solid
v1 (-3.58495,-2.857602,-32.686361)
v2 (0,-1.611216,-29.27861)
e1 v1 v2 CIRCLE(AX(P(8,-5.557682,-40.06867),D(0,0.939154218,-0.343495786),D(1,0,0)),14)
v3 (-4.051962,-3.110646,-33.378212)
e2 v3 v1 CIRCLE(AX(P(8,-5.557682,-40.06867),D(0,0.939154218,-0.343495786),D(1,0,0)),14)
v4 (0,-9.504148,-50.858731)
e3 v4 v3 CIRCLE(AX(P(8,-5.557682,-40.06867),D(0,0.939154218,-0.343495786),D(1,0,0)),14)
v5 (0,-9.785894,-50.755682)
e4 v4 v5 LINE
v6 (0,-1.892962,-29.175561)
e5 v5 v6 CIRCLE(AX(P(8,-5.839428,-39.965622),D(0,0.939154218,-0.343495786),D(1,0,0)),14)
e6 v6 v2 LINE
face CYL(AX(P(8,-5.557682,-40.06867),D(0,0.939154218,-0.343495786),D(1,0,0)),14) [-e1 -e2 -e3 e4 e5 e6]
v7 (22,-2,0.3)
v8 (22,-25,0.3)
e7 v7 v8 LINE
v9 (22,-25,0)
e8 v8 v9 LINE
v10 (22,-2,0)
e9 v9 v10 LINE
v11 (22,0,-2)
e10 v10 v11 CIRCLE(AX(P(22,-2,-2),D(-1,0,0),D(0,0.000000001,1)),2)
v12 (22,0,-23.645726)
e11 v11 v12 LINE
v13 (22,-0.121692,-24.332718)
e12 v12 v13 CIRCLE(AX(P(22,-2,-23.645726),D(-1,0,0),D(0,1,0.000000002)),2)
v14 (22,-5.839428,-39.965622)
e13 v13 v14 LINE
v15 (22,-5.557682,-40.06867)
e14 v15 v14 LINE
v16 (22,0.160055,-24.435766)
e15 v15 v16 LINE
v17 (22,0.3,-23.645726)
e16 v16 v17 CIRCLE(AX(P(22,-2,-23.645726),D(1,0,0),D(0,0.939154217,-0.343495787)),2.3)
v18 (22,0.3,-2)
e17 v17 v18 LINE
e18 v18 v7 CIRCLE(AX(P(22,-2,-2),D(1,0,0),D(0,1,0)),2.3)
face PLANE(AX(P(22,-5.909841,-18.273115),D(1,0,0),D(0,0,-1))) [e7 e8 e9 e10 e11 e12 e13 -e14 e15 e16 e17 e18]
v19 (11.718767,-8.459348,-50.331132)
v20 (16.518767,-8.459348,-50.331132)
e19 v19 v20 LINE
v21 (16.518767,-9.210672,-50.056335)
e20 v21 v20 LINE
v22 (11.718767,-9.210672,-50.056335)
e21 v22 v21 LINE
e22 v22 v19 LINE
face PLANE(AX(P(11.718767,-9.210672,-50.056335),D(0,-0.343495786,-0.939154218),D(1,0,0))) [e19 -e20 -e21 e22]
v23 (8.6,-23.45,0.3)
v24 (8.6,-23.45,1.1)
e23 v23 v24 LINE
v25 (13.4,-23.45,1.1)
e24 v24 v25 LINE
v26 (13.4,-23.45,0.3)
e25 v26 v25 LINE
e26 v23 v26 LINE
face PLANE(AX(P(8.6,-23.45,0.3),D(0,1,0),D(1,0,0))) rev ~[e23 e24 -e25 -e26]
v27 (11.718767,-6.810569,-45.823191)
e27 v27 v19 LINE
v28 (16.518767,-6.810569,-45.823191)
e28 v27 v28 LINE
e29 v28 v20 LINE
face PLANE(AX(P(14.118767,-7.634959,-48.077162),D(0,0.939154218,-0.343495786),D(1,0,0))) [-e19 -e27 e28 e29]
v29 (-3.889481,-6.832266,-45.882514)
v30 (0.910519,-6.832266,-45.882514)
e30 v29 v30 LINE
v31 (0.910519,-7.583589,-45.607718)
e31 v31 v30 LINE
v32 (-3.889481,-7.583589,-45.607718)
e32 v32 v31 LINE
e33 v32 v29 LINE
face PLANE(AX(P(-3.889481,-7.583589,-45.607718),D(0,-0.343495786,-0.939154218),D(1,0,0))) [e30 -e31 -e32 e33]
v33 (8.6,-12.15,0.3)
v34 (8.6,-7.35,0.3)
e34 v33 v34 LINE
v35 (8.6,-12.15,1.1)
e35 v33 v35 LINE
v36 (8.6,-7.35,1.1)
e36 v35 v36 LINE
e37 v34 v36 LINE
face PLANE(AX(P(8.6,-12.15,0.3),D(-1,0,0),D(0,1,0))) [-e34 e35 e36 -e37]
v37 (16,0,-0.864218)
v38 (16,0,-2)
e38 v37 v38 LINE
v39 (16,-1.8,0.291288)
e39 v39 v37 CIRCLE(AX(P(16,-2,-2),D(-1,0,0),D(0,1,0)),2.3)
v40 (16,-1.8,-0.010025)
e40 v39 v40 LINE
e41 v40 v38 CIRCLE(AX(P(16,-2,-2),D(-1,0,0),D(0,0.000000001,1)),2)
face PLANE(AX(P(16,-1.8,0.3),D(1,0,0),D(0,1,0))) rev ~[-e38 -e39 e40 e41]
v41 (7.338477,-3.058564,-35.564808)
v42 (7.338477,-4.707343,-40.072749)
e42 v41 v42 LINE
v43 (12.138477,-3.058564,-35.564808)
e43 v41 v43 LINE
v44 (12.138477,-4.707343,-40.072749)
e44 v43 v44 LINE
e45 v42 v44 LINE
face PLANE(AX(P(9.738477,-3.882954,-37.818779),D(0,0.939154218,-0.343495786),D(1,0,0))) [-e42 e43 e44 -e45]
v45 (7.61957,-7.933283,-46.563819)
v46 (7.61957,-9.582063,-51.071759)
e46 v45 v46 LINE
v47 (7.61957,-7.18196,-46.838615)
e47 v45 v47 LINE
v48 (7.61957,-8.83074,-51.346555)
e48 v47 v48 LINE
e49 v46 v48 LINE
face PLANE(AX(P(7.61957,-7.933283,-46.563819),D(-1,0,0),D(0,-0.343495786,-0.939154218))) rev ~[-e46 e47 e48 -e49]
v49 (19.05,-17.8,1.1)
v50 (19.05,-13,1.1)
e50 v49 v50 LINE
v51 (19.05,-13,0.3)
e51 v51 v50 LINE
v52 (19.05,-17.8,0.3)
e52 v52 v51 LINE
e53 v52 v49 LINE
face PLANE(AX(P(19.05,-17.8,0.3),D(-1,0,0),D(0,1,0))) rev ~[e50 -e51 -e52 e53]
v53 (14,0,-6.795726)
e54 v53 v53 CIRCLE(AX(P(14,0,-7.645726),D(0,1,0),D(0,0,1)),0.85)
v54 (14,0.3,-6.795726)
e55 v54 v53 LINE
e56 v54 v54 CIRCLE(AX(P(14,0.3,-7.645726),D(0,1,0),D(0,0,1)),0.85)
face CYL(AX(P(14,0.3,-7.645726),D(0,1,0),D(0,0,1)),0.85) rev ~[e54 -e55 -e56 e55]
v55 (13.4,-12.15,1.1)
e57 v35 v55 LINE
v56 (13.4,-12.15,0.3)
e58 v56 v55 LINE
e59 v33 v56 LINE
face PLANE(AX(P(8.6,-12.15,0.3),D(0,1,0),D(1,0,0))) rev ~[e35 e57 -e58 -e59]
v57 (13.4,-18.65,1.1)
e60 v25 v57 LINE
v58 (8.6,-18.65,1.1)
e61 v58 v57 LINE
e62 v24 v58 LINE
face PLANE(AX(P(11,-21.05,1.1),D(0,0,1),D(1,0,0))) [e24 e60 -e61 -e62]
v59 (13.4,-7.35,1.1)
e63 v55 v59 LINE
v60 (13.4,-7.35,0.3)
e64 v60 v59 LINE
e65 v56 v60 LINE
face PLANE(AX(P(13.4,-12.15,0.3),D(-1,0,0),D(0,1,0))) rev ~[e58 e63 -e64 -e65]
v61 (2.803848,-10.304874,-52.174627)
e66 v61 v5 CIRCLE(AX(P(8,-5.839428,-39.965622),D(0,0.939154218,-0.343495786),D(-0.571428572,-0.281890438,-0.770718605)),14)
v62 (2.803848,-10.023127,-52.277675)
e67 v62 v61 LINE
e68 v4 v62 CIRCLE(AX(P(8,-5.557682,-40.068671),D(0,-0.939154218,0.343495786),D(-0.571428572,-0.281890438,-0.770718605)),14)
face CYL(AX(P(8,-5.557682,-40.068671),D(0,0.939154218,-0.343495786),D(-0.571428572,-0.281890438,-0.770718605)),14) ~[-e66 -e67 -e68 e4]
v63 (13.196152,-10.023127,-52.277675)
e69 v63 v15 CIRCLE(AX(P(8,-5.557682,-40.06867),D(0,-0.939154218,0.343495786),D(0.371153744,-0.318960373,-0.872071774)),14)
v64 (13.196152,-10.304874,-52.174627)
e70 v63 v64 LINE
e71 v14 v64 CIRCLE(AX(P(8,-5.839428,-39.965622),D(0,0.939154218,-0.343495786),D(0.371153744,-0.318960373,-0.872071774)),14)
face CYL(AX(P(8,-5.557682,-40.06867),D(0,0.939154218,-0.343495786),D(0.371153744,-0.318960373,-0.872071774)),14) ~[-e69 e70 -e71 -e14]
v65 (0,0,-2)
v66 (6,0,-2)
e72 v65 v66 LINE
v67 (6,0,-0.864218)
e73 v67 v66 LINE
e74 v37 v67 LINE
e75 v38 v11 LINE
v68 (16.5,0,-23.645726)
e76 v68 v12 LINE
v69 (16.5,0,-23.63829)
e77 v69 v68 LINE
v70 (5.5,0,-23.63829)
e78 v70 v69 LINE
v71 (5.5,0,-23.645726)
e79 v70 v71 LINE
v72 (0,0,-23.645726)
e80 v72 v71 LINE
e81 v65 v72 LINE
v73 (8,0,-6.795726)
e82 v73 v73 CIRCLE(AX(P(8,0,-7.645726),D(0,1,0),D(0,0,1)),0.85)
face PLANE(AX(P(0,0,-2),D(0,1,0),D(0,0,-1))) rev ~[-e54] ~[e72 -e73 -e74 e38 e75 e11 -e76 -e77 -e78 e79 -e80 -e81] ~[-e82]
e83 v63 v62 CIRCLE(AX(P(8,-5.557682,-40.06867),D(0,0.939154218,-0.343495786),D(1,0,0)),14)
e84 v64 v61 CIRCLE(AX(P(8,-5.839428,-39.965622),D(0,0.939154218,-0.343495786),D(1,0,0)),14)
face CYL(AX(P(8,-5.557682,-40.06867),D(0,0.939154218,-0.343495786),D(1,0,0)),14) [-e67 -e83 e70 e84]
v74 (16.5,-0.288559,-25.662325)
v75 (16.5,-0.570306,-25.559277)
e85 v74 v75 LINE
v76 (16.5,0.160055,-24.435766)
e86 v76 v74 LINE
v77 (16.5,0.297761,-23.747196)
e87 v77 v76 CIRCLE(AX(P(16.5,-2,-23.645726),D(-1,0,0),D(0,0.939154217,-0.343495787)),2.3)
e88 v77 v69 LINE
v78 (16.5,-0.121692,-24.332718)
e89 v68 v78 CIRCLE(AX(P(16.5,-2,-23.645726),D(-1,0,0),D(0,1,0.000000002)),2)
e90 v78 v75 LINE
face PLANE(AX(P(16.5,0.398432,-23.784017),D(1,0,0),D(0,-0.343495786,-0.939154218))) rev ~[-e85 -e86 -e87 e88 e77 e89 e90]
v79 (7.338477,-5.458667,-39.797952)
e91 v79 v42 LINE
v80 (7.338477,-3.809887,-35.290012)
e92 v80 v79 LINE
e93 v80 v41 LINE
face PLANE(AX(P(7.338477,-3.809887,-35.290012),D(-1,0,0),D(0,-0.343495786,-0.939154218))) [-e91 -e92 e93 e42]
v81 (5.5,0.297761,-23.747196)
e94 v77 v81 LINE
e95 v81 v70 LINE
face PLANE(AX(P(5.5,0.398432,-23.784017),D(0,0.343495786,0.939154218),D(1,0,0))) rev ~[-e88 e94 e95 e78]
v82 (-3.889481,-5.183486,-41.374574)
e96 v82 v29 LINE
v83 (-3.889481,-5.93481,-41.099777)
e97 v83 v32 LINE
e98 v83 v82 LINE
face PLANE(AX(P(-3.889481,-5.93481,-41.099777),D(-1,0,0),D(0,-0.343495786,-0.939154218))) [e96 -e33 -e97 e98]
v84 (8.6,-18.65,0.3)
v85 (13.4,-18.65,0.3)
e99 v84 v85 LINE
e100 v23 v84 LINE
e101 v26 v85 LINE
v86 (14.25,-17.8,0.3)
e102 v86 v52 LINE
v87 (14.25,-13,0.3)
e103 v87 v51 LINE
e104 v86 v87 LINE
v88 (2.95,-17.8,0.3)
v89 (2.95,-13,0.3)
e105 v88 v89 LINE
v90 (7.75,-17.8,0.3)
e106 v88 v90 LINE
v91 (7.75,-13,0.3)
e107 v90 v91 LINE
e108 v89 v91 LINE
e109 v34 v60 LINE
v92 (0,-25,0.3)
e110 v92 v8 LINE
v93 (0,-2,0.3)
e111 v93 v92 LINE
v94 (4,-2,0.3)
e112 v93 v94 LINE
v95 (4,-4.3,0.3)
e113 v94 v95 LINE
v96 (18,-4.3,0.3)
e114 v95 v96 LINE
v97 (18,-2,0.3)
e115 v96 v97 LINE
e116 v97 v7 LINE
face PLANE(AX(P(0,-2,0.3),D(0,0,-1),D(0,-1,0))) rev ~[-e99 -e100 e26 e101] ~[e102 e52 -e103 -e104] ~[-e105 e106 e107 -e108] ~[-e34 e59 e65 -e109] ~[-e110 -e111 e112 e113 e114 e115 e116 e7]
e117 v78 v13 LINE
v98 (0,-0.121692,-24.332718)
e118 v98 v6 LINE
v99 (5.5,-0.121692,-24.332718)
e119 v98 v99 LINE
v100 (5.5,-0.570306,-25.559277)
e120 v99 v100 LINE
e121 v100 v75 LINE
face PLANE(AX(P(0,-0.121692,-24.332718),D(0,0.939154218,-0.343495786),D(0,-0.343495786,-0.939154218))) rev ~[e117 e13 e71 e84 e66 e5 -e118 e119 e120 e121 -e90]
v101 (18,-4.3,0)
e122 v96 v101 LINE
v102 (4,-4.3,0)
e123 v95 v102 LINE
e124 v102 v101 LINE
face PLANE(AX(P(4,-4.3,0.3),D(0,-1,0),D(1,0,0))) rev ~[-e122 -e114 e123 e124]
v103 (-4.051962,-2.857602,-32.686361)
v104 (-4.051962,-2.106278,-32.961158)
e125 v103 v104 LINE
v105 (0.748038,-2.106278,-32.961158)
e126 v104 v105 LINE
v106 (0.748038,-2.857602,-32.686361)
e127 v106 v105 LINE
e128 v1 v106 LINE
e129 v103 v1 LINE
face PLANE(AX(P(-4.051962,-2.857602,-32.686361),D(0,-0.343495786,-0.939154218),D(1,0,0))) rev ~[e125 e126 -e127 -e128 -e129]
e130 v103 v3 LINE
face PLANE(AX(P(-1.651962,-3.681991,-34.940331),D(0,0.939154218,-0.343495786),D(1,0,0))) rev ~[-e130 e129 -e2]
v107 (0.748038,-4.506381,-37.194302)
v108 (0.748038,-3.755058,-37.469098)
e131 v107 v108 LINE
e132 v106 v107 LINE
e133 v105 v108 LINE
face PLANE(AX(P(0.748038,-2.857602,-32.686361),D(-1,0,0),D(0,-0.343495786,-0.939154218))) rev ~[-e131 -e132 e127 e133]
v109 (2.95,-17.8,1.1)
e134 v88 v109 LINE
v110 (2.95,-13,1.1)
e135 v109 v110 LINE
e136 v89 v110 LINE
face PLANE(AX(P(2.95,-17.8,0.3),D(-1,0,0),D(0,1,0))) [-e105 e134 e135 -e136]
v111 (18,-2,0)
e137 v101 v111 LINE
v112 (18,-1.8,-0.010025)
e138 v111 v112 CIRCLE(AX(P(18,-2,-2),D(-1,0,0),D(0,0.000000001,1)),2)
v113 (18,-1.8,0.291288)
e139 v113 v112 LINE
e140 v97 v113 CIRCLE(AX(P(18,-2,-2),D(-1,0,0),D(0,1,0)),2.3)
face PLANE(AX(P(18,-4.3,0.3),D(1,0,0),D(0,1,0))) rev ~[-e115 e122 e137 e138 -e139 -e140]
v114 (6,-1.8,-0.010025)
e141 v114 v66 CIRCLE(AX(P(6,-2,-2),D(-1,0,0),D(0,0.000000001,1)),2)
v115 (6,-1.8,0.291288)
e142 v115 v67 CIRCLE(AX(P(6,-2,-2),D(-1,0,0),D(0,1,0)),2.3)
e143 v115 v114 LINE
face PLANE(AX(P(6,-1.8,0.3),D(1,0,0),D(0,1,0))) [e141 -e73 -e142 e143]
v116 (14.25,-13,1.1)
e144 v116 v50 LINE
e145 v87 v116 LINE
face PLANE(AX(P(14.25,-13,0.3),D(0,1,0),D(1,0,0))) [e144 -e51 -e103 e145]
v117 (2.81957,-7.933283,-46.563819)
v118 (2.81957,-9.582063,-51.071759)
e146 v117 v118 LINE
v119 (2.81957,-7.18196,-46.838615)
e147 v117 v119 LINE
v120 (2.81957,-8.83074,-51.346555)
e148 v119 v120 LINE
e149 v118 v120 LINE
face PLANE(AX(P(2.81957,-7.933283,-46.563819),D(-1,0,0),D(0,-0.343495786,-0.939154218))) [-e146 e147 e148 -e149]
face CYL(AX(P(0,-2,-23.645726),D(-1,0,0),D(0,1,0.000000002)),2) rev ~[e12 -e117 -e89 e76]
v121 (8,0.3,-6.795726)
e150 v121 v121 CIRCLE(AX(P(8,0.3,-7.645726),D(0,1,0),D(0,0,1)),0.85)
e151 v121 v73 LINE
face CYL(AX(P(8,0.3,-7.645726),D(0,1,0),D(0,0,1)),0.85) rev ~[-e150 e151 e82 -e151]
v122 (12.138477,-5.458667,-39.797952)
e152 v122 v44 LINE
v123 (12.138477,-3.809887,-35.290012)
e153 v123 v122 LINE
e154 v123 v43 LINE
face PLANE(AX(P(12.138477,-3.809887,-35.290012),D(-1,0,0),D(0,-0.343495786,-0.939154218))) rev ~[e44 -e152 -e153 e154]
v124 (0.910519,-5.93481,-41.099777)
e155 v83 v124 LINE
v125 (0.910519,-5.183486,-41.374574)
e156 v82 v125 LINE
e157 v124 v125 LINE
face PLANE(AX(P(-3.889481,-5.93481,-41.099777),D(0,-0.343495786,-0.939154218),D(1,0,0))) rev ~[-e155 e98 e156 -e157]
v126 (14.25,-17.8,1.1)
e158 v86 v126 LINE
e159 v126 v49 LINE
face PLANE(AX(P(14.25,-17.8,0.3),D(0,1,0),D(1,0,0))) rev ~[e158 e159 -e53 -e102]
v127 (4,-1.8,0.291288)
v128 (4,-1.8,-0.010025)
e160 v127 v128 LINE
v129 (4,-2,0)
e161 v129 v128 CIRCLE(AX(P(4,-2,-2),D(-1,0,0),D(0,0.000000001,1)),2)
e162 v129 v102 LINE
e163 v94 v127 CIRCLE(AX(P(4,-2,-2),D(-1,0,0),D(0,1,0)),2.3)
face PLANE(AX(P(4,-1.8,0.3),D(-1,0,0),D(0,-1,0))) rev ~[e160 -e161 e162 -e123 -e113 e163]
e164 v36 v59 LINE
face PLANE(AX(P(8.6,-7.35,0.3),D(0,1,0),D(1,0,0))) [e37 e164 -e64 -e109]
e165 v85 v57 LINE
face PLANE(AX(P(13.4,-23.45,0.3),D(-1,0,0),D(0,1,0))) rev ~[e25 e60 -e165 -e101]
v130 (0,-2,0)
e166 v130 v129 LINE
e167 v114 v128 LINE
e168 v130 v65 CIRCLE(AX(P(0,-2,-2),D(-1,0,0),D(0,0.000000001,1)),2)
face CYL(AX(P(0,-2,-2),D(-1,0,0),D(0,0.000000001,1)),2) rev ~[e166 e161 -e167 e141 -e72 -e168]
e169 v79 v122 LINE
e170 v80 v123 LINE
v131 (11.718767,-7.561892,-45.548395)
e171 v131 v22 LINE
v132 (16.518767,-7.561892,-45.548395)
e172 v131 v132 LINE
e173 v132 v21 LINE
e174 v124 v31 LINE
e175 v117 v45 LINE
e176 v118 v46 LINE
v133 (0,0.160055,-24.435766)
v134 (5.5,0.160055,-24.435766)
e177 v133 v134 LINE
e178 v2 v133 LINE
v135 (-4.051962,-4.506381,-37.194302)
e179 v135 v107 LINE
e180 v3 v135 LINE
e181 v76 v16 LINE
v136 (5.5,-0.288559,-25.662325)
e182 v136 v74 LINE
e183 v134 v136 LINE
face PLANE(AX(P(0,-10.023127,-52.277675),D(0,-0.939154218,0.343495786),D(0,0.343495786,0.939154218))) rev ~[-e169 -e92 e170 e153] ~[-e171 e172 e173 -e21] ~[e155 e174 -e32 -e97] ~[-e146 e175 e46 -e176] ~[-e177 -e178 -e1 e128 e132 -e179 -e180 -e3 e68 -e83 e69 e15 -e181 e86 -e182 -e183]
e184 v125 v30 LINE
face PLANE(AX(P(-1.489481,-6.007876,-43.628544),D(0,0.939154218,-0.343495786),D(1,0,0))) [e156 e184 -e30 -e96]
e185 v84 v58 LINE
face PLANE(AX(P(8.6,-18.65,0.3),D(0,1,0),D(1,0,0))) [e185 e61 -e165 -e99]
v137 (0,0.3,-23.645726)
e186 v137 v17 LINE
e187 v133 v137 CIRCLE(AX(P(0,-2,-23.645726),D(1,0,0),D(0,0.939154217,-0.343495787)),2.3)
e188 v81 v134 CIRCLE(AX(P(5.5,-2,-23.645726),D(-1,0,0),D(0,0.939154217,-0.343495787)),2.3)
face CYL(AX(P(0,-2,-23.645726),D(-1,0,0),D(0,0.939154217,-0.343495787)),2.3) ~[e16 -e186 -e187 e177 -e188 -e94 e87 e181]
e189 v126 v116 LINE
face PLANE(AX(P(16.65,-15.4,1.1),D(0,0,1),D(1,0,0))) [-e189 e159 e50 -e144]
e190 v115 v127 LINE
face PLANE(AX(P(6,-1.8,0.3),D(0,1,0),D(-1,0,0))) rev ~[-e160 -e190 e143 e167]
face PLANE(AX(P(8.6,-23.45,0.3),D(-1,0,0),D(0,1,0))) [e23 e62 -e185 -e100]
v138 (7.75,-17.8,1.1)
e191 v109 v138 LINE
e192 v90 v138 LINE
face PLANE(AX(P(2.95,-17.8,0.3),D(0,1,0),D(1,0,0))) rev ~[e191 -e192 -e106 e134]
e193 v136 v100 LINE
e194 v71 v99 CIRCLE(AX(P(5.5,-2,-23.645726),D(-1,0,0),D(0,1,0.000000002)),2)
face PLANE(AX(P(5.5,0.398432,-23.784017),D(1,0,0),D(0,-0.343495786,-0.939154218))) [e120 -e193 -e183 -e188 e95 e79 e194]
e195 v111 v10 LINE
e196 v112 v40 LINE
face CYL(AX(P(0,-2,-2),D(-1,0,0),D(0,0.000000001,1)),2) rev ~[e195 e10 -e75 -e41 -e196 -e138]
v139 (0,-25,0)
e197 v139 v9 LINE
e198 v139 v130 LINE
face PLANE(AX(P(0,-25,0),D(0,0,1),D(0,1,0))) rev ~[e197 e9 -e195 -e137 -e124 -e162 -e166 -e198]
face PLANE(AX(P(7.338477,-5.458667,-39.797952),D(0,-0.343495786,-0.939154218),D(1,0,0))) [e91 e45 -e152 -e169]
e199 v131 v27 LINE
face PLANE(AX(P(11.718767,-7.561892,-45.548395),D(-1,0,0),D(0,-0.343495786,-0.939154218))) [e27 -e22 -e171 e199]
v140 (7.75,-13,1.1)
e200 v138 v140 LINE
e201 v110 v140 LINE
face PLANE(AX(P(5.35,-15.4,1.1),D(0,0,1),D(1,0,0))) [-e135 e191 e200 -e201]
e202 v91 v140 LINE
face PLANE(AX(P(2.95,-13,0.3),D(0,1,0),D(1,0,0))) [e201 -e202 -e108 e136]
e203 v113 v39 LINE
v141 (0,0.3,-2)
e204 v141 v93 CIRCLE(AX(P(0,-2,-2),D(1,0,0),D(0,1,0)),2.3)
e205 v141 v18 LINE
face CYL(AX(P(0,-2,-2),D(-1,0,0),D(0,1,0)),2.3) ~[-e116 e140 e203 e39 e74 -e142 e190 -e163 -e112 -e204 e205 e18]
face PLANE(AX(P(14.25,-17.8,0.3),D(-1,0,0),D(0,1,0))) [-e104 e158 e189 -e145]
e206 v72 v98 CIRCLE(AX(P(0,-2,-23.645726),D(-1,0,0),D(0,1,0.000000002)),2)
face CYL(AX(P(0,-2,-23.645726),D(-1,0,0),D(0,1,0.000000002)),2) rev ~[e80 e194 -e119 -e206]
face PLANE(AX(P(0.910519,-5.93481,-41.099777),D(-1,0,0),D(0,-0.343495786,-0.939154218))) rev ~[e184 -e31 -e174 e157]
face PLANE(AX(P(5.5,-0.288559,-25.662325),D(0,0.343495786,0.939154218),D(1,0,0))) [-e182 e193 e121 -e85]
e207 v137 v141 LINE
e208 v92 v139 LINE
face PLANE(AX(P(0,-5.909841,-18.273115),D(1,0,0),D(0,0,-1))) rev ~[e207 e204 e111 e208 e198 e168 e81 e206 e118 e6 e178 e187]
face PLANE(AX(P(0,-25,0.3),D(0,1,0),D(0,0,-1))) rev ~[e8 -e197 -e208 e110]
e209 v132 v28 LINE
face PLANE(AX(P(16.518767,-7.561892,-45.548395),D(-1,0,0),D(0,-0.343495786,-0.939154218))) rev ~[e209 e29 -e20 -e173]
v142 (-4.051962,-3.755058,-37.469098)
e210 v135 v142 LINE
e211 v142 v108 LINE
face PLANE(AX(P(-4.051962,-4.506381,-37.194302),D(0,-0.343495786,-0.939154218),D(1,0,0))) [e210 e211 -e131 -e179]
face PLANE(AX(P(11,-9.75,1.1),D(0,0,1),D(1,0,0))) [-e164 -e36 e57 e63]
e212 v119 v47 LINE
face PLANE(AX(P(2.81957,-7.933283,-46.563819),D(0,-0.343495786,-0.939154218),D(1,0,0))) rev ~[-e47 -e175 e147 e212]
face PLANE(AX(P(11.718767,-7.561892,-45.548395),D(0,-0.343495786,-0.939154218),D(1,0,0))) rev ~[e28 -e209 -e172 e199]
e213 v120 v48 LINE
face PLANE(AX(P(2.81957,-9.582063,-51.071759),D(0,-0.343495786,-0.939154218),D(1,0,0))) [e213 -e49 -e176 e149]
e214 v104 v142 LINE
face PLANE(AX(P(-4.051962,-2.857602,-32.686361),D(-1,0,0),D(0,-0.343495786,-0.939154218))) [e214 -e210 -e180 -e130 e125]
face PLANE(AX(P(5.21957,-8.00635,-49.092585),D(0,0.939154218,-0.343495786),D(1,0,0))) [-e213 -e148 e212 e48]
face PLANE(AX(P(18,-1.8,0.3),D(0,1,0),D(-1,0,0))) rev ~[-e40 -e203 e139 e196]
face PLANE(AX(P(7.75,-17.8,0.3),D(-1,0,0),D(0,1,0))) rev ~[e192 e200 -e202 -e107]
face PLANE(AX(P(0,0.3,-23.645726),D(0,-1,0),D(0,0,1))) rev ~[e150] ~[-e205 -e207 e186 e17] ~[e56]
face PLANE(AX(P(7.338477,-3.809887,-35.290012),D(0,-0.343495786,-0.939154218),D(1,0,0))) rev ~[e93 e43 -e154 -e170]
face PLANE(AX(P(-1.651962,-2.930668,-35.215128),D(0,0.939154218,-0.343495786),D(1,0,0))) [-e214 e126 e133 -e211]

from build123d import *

# Parameters (mm, degrees)
EXTRUDE_1_DEPTH     = 22
CUT_EXTRUDE_1_DEPTH = 4
CUT_EXTRUDE_2_DEPTH = 64.319089808
SKETCH_3_3_R        = 14
EXTRUDE_2_DEPTH     = 0.3
SKETCH_4_W          = 4.8
SKETCH_4_H          = 4.8
EXTRUDE_3_DEPTH     = 0.8
SKETCH_5_R          = 0.85
CUT_EXTRUDE_3_DEPTH = 63.897702188
SKETCH_6_W          = 11
SKETCH_6_H          = 2
CUT_EXTRUDE_4_DEPTH = 1
SKETCH_7_W          = 4.8
SKETCH_7_H          = 4.8
EXTRUDE_4_DEPTH     = 0.8


with BuildPart() as part:
    # 草图1 → 凸台-拉伸1 (new body)
    with BuildSketch(Plane(origin=(0, 0, 0), x_dir=(0, 0, -1), z_dir=(1, 0, 0))):
        with BuildLine():
            Line((0, -25), (0, -2))
            ThreePointArc((0, -2), (0.585786438, -0.585786438), (2, 0))
            Line((2, 0), (23.64572618, 0))
            ThreePointArc((23.64572618, 0), (23.99456936, -0.030657867), (24.332717753, -0.121691565))
            Line((24.332717753, -0.121691565), (52.174626532, -10.304873595))
            Line((52.174626532, -10.304873595), (52.277675268, -10.023127329))
            Line((52.277675268, -10.023127329), (24.435766489, 0.160054701))
            ThreePointArc((24.435766489, 0.160054701), (24.046895837, 0.264743453), (23.64572618, 0.3))
            Line((23.64572618, 0.3), (2, 0.3))
            ThreePointArc((2, 0.3), (0.373654403, -0.373654403), (-0.3, -2))
            Line((-0.3, -2), (-0.3, -25))
            Line((-0.3, -25), (0, -25))
        make_face()
    extrude(amount=EXTRUDE_1_DEPTH)

    # 草图2 → 切除-拉伸1 (cut)
    with BuildSketch(Plane.XY.offset(0.3)):
        Polygon((4, -4.3), (18, -4.3), (18, -1.8), (16, -1.8), (16, 0), (6, 0), (6, -1.8), (4, -1.8), align=None)
    extrude(amount=-CUT_EXTRUDE_1_DEPTH, mode=Mode.SUBTRACT)

    # 草图3 → 切除-拉伸2 (cut, through all)
    with BuildSketch(Plane(origin=(0, 8.024038665, -2.934793264), x_dir=(1, 0, 0), z_dir=(0, 0.9391542177229502, -0.3434957864853564))):
        with BuildLine():
            ThreePointArc((13.196152423, 52.539701225), (19.591939741, 47.38998358), (22, 39.539701225))
            Line((22, 39.539701225), (22, 52.539701225))
            Line((22, 52.539701225), (13.196152423, 52.539701225))
        make_face()
        with BuildLine():
            ThreePointArc((0, 51.028826518), (1.358818231, 51.864258204), (2.803847577, 52.539701225))
            Line((2.803847577, 52.539701225), (0, 52.539701225))
            Line((0, 52.539701225), (0, 51.028826518))
        make_face()
    extrude(amount=-CUT_EXTRUDE_2_DEPTH, mode=Mode.SUBTRACT)

    # 草图3<3> → 凸台-拉伸2 (add)
    with BuildSketch(Plane(origin=(0, 8.024038665, -2.934793264), x_dir=(1, 0, 0), z_dir=(0, 0.9391542177229502, -0.3434957864853564))):
        with Locations((8, 39.539701225)):
            Circle(SKETCH_3_3_R)
    extrude(amount=-EXTRUDE_2_DEPTH)

    # 草图4 → 凸台-拉伸3 (add)
    with BuildSketch(Plane.XY.offset(0.3)):
        with Locations((11, -9.75)):
            Rectangle(SKETCH_4_W, SKETCH_4_H)
        with Locations((11, -21.05)):
            Rectangle(SKETCH_4_W, SKETCH_4_H)
        with Locations((5.35, -15.4)):
            Rectangle(SKETCH_4_W, SKETCH_4_H)
        with Locations((16.65, -15.4)):
            Rectangle(SKETCH_4_W, SKETCH_4_H)
    extrude(amount=EXTRUDE_3_DEPTH)

    # 草图5 → 切除-拉伸3 (cut, through all)
    with BuildSketch(Plane(origin=(0, 0.3, 0), x_dir=(1, 0, 0), z_dir=(0, 1, 0))):
        with Locations((8, 7.64572618)):
            Circle(SKETCH_5_R)
        with Locations((14, 7.64572618)):
            Circle(SKETCH_5_R)
    extrude(amount=-CUT_EXTRUDE_3_DEPTH, mode=Mode.SUBTRACT)

    # 草图6 → 切除-拉伸4 (cut)
    with BuildSketch(Plane(origin=(0, 8.024038665, -2.934793264), x_dir=(1, 0, 0), z_dir=(0, 0.9391542177229502, -0.3434957864853564))):
        with Locations((11, 23.2)):
            Rectangle(SKETCH_6_W, SKETCH_6_H)
    extrude(amount=-CUT_EXTRUDE_4_DEPTH, mode=Mode.SUBTRACT)

    # 草图7 → 凸台-拉伸4 (add)
    with BuildSketch(Plane(origin=(0, 8.024038665, -2.934793264), x_dir=(1, 0, 0), z_dir=(0, 0.9391542177229502, -0.3434957864853564))):
        with Locations((9.738477049, 36.851443585)):
            Rectangle(SKETCH_7_W, SKETCH_7_H)
        with Locations((14.118767038, 47.774445204)):
            Rectangle(SKETCH_7_W, SKETCH_7_H)
        with Locations((5.219570287, 48.855656024)):
            Rectangle(SKETCH_7_W, SKETCH_7_H)
        with Locations((-1.489481468, 43.037611303)):
            Rectangle(SKETCH_7_W, SKETCH_7_H)
        with Locations((-1.651961899, 34.079108149)):
            Rectangle(SKETCH_7_W, SKETCH_7_H)
    extrude(amount=EXTRUDE_4_DEPTH)


solid = part.part
